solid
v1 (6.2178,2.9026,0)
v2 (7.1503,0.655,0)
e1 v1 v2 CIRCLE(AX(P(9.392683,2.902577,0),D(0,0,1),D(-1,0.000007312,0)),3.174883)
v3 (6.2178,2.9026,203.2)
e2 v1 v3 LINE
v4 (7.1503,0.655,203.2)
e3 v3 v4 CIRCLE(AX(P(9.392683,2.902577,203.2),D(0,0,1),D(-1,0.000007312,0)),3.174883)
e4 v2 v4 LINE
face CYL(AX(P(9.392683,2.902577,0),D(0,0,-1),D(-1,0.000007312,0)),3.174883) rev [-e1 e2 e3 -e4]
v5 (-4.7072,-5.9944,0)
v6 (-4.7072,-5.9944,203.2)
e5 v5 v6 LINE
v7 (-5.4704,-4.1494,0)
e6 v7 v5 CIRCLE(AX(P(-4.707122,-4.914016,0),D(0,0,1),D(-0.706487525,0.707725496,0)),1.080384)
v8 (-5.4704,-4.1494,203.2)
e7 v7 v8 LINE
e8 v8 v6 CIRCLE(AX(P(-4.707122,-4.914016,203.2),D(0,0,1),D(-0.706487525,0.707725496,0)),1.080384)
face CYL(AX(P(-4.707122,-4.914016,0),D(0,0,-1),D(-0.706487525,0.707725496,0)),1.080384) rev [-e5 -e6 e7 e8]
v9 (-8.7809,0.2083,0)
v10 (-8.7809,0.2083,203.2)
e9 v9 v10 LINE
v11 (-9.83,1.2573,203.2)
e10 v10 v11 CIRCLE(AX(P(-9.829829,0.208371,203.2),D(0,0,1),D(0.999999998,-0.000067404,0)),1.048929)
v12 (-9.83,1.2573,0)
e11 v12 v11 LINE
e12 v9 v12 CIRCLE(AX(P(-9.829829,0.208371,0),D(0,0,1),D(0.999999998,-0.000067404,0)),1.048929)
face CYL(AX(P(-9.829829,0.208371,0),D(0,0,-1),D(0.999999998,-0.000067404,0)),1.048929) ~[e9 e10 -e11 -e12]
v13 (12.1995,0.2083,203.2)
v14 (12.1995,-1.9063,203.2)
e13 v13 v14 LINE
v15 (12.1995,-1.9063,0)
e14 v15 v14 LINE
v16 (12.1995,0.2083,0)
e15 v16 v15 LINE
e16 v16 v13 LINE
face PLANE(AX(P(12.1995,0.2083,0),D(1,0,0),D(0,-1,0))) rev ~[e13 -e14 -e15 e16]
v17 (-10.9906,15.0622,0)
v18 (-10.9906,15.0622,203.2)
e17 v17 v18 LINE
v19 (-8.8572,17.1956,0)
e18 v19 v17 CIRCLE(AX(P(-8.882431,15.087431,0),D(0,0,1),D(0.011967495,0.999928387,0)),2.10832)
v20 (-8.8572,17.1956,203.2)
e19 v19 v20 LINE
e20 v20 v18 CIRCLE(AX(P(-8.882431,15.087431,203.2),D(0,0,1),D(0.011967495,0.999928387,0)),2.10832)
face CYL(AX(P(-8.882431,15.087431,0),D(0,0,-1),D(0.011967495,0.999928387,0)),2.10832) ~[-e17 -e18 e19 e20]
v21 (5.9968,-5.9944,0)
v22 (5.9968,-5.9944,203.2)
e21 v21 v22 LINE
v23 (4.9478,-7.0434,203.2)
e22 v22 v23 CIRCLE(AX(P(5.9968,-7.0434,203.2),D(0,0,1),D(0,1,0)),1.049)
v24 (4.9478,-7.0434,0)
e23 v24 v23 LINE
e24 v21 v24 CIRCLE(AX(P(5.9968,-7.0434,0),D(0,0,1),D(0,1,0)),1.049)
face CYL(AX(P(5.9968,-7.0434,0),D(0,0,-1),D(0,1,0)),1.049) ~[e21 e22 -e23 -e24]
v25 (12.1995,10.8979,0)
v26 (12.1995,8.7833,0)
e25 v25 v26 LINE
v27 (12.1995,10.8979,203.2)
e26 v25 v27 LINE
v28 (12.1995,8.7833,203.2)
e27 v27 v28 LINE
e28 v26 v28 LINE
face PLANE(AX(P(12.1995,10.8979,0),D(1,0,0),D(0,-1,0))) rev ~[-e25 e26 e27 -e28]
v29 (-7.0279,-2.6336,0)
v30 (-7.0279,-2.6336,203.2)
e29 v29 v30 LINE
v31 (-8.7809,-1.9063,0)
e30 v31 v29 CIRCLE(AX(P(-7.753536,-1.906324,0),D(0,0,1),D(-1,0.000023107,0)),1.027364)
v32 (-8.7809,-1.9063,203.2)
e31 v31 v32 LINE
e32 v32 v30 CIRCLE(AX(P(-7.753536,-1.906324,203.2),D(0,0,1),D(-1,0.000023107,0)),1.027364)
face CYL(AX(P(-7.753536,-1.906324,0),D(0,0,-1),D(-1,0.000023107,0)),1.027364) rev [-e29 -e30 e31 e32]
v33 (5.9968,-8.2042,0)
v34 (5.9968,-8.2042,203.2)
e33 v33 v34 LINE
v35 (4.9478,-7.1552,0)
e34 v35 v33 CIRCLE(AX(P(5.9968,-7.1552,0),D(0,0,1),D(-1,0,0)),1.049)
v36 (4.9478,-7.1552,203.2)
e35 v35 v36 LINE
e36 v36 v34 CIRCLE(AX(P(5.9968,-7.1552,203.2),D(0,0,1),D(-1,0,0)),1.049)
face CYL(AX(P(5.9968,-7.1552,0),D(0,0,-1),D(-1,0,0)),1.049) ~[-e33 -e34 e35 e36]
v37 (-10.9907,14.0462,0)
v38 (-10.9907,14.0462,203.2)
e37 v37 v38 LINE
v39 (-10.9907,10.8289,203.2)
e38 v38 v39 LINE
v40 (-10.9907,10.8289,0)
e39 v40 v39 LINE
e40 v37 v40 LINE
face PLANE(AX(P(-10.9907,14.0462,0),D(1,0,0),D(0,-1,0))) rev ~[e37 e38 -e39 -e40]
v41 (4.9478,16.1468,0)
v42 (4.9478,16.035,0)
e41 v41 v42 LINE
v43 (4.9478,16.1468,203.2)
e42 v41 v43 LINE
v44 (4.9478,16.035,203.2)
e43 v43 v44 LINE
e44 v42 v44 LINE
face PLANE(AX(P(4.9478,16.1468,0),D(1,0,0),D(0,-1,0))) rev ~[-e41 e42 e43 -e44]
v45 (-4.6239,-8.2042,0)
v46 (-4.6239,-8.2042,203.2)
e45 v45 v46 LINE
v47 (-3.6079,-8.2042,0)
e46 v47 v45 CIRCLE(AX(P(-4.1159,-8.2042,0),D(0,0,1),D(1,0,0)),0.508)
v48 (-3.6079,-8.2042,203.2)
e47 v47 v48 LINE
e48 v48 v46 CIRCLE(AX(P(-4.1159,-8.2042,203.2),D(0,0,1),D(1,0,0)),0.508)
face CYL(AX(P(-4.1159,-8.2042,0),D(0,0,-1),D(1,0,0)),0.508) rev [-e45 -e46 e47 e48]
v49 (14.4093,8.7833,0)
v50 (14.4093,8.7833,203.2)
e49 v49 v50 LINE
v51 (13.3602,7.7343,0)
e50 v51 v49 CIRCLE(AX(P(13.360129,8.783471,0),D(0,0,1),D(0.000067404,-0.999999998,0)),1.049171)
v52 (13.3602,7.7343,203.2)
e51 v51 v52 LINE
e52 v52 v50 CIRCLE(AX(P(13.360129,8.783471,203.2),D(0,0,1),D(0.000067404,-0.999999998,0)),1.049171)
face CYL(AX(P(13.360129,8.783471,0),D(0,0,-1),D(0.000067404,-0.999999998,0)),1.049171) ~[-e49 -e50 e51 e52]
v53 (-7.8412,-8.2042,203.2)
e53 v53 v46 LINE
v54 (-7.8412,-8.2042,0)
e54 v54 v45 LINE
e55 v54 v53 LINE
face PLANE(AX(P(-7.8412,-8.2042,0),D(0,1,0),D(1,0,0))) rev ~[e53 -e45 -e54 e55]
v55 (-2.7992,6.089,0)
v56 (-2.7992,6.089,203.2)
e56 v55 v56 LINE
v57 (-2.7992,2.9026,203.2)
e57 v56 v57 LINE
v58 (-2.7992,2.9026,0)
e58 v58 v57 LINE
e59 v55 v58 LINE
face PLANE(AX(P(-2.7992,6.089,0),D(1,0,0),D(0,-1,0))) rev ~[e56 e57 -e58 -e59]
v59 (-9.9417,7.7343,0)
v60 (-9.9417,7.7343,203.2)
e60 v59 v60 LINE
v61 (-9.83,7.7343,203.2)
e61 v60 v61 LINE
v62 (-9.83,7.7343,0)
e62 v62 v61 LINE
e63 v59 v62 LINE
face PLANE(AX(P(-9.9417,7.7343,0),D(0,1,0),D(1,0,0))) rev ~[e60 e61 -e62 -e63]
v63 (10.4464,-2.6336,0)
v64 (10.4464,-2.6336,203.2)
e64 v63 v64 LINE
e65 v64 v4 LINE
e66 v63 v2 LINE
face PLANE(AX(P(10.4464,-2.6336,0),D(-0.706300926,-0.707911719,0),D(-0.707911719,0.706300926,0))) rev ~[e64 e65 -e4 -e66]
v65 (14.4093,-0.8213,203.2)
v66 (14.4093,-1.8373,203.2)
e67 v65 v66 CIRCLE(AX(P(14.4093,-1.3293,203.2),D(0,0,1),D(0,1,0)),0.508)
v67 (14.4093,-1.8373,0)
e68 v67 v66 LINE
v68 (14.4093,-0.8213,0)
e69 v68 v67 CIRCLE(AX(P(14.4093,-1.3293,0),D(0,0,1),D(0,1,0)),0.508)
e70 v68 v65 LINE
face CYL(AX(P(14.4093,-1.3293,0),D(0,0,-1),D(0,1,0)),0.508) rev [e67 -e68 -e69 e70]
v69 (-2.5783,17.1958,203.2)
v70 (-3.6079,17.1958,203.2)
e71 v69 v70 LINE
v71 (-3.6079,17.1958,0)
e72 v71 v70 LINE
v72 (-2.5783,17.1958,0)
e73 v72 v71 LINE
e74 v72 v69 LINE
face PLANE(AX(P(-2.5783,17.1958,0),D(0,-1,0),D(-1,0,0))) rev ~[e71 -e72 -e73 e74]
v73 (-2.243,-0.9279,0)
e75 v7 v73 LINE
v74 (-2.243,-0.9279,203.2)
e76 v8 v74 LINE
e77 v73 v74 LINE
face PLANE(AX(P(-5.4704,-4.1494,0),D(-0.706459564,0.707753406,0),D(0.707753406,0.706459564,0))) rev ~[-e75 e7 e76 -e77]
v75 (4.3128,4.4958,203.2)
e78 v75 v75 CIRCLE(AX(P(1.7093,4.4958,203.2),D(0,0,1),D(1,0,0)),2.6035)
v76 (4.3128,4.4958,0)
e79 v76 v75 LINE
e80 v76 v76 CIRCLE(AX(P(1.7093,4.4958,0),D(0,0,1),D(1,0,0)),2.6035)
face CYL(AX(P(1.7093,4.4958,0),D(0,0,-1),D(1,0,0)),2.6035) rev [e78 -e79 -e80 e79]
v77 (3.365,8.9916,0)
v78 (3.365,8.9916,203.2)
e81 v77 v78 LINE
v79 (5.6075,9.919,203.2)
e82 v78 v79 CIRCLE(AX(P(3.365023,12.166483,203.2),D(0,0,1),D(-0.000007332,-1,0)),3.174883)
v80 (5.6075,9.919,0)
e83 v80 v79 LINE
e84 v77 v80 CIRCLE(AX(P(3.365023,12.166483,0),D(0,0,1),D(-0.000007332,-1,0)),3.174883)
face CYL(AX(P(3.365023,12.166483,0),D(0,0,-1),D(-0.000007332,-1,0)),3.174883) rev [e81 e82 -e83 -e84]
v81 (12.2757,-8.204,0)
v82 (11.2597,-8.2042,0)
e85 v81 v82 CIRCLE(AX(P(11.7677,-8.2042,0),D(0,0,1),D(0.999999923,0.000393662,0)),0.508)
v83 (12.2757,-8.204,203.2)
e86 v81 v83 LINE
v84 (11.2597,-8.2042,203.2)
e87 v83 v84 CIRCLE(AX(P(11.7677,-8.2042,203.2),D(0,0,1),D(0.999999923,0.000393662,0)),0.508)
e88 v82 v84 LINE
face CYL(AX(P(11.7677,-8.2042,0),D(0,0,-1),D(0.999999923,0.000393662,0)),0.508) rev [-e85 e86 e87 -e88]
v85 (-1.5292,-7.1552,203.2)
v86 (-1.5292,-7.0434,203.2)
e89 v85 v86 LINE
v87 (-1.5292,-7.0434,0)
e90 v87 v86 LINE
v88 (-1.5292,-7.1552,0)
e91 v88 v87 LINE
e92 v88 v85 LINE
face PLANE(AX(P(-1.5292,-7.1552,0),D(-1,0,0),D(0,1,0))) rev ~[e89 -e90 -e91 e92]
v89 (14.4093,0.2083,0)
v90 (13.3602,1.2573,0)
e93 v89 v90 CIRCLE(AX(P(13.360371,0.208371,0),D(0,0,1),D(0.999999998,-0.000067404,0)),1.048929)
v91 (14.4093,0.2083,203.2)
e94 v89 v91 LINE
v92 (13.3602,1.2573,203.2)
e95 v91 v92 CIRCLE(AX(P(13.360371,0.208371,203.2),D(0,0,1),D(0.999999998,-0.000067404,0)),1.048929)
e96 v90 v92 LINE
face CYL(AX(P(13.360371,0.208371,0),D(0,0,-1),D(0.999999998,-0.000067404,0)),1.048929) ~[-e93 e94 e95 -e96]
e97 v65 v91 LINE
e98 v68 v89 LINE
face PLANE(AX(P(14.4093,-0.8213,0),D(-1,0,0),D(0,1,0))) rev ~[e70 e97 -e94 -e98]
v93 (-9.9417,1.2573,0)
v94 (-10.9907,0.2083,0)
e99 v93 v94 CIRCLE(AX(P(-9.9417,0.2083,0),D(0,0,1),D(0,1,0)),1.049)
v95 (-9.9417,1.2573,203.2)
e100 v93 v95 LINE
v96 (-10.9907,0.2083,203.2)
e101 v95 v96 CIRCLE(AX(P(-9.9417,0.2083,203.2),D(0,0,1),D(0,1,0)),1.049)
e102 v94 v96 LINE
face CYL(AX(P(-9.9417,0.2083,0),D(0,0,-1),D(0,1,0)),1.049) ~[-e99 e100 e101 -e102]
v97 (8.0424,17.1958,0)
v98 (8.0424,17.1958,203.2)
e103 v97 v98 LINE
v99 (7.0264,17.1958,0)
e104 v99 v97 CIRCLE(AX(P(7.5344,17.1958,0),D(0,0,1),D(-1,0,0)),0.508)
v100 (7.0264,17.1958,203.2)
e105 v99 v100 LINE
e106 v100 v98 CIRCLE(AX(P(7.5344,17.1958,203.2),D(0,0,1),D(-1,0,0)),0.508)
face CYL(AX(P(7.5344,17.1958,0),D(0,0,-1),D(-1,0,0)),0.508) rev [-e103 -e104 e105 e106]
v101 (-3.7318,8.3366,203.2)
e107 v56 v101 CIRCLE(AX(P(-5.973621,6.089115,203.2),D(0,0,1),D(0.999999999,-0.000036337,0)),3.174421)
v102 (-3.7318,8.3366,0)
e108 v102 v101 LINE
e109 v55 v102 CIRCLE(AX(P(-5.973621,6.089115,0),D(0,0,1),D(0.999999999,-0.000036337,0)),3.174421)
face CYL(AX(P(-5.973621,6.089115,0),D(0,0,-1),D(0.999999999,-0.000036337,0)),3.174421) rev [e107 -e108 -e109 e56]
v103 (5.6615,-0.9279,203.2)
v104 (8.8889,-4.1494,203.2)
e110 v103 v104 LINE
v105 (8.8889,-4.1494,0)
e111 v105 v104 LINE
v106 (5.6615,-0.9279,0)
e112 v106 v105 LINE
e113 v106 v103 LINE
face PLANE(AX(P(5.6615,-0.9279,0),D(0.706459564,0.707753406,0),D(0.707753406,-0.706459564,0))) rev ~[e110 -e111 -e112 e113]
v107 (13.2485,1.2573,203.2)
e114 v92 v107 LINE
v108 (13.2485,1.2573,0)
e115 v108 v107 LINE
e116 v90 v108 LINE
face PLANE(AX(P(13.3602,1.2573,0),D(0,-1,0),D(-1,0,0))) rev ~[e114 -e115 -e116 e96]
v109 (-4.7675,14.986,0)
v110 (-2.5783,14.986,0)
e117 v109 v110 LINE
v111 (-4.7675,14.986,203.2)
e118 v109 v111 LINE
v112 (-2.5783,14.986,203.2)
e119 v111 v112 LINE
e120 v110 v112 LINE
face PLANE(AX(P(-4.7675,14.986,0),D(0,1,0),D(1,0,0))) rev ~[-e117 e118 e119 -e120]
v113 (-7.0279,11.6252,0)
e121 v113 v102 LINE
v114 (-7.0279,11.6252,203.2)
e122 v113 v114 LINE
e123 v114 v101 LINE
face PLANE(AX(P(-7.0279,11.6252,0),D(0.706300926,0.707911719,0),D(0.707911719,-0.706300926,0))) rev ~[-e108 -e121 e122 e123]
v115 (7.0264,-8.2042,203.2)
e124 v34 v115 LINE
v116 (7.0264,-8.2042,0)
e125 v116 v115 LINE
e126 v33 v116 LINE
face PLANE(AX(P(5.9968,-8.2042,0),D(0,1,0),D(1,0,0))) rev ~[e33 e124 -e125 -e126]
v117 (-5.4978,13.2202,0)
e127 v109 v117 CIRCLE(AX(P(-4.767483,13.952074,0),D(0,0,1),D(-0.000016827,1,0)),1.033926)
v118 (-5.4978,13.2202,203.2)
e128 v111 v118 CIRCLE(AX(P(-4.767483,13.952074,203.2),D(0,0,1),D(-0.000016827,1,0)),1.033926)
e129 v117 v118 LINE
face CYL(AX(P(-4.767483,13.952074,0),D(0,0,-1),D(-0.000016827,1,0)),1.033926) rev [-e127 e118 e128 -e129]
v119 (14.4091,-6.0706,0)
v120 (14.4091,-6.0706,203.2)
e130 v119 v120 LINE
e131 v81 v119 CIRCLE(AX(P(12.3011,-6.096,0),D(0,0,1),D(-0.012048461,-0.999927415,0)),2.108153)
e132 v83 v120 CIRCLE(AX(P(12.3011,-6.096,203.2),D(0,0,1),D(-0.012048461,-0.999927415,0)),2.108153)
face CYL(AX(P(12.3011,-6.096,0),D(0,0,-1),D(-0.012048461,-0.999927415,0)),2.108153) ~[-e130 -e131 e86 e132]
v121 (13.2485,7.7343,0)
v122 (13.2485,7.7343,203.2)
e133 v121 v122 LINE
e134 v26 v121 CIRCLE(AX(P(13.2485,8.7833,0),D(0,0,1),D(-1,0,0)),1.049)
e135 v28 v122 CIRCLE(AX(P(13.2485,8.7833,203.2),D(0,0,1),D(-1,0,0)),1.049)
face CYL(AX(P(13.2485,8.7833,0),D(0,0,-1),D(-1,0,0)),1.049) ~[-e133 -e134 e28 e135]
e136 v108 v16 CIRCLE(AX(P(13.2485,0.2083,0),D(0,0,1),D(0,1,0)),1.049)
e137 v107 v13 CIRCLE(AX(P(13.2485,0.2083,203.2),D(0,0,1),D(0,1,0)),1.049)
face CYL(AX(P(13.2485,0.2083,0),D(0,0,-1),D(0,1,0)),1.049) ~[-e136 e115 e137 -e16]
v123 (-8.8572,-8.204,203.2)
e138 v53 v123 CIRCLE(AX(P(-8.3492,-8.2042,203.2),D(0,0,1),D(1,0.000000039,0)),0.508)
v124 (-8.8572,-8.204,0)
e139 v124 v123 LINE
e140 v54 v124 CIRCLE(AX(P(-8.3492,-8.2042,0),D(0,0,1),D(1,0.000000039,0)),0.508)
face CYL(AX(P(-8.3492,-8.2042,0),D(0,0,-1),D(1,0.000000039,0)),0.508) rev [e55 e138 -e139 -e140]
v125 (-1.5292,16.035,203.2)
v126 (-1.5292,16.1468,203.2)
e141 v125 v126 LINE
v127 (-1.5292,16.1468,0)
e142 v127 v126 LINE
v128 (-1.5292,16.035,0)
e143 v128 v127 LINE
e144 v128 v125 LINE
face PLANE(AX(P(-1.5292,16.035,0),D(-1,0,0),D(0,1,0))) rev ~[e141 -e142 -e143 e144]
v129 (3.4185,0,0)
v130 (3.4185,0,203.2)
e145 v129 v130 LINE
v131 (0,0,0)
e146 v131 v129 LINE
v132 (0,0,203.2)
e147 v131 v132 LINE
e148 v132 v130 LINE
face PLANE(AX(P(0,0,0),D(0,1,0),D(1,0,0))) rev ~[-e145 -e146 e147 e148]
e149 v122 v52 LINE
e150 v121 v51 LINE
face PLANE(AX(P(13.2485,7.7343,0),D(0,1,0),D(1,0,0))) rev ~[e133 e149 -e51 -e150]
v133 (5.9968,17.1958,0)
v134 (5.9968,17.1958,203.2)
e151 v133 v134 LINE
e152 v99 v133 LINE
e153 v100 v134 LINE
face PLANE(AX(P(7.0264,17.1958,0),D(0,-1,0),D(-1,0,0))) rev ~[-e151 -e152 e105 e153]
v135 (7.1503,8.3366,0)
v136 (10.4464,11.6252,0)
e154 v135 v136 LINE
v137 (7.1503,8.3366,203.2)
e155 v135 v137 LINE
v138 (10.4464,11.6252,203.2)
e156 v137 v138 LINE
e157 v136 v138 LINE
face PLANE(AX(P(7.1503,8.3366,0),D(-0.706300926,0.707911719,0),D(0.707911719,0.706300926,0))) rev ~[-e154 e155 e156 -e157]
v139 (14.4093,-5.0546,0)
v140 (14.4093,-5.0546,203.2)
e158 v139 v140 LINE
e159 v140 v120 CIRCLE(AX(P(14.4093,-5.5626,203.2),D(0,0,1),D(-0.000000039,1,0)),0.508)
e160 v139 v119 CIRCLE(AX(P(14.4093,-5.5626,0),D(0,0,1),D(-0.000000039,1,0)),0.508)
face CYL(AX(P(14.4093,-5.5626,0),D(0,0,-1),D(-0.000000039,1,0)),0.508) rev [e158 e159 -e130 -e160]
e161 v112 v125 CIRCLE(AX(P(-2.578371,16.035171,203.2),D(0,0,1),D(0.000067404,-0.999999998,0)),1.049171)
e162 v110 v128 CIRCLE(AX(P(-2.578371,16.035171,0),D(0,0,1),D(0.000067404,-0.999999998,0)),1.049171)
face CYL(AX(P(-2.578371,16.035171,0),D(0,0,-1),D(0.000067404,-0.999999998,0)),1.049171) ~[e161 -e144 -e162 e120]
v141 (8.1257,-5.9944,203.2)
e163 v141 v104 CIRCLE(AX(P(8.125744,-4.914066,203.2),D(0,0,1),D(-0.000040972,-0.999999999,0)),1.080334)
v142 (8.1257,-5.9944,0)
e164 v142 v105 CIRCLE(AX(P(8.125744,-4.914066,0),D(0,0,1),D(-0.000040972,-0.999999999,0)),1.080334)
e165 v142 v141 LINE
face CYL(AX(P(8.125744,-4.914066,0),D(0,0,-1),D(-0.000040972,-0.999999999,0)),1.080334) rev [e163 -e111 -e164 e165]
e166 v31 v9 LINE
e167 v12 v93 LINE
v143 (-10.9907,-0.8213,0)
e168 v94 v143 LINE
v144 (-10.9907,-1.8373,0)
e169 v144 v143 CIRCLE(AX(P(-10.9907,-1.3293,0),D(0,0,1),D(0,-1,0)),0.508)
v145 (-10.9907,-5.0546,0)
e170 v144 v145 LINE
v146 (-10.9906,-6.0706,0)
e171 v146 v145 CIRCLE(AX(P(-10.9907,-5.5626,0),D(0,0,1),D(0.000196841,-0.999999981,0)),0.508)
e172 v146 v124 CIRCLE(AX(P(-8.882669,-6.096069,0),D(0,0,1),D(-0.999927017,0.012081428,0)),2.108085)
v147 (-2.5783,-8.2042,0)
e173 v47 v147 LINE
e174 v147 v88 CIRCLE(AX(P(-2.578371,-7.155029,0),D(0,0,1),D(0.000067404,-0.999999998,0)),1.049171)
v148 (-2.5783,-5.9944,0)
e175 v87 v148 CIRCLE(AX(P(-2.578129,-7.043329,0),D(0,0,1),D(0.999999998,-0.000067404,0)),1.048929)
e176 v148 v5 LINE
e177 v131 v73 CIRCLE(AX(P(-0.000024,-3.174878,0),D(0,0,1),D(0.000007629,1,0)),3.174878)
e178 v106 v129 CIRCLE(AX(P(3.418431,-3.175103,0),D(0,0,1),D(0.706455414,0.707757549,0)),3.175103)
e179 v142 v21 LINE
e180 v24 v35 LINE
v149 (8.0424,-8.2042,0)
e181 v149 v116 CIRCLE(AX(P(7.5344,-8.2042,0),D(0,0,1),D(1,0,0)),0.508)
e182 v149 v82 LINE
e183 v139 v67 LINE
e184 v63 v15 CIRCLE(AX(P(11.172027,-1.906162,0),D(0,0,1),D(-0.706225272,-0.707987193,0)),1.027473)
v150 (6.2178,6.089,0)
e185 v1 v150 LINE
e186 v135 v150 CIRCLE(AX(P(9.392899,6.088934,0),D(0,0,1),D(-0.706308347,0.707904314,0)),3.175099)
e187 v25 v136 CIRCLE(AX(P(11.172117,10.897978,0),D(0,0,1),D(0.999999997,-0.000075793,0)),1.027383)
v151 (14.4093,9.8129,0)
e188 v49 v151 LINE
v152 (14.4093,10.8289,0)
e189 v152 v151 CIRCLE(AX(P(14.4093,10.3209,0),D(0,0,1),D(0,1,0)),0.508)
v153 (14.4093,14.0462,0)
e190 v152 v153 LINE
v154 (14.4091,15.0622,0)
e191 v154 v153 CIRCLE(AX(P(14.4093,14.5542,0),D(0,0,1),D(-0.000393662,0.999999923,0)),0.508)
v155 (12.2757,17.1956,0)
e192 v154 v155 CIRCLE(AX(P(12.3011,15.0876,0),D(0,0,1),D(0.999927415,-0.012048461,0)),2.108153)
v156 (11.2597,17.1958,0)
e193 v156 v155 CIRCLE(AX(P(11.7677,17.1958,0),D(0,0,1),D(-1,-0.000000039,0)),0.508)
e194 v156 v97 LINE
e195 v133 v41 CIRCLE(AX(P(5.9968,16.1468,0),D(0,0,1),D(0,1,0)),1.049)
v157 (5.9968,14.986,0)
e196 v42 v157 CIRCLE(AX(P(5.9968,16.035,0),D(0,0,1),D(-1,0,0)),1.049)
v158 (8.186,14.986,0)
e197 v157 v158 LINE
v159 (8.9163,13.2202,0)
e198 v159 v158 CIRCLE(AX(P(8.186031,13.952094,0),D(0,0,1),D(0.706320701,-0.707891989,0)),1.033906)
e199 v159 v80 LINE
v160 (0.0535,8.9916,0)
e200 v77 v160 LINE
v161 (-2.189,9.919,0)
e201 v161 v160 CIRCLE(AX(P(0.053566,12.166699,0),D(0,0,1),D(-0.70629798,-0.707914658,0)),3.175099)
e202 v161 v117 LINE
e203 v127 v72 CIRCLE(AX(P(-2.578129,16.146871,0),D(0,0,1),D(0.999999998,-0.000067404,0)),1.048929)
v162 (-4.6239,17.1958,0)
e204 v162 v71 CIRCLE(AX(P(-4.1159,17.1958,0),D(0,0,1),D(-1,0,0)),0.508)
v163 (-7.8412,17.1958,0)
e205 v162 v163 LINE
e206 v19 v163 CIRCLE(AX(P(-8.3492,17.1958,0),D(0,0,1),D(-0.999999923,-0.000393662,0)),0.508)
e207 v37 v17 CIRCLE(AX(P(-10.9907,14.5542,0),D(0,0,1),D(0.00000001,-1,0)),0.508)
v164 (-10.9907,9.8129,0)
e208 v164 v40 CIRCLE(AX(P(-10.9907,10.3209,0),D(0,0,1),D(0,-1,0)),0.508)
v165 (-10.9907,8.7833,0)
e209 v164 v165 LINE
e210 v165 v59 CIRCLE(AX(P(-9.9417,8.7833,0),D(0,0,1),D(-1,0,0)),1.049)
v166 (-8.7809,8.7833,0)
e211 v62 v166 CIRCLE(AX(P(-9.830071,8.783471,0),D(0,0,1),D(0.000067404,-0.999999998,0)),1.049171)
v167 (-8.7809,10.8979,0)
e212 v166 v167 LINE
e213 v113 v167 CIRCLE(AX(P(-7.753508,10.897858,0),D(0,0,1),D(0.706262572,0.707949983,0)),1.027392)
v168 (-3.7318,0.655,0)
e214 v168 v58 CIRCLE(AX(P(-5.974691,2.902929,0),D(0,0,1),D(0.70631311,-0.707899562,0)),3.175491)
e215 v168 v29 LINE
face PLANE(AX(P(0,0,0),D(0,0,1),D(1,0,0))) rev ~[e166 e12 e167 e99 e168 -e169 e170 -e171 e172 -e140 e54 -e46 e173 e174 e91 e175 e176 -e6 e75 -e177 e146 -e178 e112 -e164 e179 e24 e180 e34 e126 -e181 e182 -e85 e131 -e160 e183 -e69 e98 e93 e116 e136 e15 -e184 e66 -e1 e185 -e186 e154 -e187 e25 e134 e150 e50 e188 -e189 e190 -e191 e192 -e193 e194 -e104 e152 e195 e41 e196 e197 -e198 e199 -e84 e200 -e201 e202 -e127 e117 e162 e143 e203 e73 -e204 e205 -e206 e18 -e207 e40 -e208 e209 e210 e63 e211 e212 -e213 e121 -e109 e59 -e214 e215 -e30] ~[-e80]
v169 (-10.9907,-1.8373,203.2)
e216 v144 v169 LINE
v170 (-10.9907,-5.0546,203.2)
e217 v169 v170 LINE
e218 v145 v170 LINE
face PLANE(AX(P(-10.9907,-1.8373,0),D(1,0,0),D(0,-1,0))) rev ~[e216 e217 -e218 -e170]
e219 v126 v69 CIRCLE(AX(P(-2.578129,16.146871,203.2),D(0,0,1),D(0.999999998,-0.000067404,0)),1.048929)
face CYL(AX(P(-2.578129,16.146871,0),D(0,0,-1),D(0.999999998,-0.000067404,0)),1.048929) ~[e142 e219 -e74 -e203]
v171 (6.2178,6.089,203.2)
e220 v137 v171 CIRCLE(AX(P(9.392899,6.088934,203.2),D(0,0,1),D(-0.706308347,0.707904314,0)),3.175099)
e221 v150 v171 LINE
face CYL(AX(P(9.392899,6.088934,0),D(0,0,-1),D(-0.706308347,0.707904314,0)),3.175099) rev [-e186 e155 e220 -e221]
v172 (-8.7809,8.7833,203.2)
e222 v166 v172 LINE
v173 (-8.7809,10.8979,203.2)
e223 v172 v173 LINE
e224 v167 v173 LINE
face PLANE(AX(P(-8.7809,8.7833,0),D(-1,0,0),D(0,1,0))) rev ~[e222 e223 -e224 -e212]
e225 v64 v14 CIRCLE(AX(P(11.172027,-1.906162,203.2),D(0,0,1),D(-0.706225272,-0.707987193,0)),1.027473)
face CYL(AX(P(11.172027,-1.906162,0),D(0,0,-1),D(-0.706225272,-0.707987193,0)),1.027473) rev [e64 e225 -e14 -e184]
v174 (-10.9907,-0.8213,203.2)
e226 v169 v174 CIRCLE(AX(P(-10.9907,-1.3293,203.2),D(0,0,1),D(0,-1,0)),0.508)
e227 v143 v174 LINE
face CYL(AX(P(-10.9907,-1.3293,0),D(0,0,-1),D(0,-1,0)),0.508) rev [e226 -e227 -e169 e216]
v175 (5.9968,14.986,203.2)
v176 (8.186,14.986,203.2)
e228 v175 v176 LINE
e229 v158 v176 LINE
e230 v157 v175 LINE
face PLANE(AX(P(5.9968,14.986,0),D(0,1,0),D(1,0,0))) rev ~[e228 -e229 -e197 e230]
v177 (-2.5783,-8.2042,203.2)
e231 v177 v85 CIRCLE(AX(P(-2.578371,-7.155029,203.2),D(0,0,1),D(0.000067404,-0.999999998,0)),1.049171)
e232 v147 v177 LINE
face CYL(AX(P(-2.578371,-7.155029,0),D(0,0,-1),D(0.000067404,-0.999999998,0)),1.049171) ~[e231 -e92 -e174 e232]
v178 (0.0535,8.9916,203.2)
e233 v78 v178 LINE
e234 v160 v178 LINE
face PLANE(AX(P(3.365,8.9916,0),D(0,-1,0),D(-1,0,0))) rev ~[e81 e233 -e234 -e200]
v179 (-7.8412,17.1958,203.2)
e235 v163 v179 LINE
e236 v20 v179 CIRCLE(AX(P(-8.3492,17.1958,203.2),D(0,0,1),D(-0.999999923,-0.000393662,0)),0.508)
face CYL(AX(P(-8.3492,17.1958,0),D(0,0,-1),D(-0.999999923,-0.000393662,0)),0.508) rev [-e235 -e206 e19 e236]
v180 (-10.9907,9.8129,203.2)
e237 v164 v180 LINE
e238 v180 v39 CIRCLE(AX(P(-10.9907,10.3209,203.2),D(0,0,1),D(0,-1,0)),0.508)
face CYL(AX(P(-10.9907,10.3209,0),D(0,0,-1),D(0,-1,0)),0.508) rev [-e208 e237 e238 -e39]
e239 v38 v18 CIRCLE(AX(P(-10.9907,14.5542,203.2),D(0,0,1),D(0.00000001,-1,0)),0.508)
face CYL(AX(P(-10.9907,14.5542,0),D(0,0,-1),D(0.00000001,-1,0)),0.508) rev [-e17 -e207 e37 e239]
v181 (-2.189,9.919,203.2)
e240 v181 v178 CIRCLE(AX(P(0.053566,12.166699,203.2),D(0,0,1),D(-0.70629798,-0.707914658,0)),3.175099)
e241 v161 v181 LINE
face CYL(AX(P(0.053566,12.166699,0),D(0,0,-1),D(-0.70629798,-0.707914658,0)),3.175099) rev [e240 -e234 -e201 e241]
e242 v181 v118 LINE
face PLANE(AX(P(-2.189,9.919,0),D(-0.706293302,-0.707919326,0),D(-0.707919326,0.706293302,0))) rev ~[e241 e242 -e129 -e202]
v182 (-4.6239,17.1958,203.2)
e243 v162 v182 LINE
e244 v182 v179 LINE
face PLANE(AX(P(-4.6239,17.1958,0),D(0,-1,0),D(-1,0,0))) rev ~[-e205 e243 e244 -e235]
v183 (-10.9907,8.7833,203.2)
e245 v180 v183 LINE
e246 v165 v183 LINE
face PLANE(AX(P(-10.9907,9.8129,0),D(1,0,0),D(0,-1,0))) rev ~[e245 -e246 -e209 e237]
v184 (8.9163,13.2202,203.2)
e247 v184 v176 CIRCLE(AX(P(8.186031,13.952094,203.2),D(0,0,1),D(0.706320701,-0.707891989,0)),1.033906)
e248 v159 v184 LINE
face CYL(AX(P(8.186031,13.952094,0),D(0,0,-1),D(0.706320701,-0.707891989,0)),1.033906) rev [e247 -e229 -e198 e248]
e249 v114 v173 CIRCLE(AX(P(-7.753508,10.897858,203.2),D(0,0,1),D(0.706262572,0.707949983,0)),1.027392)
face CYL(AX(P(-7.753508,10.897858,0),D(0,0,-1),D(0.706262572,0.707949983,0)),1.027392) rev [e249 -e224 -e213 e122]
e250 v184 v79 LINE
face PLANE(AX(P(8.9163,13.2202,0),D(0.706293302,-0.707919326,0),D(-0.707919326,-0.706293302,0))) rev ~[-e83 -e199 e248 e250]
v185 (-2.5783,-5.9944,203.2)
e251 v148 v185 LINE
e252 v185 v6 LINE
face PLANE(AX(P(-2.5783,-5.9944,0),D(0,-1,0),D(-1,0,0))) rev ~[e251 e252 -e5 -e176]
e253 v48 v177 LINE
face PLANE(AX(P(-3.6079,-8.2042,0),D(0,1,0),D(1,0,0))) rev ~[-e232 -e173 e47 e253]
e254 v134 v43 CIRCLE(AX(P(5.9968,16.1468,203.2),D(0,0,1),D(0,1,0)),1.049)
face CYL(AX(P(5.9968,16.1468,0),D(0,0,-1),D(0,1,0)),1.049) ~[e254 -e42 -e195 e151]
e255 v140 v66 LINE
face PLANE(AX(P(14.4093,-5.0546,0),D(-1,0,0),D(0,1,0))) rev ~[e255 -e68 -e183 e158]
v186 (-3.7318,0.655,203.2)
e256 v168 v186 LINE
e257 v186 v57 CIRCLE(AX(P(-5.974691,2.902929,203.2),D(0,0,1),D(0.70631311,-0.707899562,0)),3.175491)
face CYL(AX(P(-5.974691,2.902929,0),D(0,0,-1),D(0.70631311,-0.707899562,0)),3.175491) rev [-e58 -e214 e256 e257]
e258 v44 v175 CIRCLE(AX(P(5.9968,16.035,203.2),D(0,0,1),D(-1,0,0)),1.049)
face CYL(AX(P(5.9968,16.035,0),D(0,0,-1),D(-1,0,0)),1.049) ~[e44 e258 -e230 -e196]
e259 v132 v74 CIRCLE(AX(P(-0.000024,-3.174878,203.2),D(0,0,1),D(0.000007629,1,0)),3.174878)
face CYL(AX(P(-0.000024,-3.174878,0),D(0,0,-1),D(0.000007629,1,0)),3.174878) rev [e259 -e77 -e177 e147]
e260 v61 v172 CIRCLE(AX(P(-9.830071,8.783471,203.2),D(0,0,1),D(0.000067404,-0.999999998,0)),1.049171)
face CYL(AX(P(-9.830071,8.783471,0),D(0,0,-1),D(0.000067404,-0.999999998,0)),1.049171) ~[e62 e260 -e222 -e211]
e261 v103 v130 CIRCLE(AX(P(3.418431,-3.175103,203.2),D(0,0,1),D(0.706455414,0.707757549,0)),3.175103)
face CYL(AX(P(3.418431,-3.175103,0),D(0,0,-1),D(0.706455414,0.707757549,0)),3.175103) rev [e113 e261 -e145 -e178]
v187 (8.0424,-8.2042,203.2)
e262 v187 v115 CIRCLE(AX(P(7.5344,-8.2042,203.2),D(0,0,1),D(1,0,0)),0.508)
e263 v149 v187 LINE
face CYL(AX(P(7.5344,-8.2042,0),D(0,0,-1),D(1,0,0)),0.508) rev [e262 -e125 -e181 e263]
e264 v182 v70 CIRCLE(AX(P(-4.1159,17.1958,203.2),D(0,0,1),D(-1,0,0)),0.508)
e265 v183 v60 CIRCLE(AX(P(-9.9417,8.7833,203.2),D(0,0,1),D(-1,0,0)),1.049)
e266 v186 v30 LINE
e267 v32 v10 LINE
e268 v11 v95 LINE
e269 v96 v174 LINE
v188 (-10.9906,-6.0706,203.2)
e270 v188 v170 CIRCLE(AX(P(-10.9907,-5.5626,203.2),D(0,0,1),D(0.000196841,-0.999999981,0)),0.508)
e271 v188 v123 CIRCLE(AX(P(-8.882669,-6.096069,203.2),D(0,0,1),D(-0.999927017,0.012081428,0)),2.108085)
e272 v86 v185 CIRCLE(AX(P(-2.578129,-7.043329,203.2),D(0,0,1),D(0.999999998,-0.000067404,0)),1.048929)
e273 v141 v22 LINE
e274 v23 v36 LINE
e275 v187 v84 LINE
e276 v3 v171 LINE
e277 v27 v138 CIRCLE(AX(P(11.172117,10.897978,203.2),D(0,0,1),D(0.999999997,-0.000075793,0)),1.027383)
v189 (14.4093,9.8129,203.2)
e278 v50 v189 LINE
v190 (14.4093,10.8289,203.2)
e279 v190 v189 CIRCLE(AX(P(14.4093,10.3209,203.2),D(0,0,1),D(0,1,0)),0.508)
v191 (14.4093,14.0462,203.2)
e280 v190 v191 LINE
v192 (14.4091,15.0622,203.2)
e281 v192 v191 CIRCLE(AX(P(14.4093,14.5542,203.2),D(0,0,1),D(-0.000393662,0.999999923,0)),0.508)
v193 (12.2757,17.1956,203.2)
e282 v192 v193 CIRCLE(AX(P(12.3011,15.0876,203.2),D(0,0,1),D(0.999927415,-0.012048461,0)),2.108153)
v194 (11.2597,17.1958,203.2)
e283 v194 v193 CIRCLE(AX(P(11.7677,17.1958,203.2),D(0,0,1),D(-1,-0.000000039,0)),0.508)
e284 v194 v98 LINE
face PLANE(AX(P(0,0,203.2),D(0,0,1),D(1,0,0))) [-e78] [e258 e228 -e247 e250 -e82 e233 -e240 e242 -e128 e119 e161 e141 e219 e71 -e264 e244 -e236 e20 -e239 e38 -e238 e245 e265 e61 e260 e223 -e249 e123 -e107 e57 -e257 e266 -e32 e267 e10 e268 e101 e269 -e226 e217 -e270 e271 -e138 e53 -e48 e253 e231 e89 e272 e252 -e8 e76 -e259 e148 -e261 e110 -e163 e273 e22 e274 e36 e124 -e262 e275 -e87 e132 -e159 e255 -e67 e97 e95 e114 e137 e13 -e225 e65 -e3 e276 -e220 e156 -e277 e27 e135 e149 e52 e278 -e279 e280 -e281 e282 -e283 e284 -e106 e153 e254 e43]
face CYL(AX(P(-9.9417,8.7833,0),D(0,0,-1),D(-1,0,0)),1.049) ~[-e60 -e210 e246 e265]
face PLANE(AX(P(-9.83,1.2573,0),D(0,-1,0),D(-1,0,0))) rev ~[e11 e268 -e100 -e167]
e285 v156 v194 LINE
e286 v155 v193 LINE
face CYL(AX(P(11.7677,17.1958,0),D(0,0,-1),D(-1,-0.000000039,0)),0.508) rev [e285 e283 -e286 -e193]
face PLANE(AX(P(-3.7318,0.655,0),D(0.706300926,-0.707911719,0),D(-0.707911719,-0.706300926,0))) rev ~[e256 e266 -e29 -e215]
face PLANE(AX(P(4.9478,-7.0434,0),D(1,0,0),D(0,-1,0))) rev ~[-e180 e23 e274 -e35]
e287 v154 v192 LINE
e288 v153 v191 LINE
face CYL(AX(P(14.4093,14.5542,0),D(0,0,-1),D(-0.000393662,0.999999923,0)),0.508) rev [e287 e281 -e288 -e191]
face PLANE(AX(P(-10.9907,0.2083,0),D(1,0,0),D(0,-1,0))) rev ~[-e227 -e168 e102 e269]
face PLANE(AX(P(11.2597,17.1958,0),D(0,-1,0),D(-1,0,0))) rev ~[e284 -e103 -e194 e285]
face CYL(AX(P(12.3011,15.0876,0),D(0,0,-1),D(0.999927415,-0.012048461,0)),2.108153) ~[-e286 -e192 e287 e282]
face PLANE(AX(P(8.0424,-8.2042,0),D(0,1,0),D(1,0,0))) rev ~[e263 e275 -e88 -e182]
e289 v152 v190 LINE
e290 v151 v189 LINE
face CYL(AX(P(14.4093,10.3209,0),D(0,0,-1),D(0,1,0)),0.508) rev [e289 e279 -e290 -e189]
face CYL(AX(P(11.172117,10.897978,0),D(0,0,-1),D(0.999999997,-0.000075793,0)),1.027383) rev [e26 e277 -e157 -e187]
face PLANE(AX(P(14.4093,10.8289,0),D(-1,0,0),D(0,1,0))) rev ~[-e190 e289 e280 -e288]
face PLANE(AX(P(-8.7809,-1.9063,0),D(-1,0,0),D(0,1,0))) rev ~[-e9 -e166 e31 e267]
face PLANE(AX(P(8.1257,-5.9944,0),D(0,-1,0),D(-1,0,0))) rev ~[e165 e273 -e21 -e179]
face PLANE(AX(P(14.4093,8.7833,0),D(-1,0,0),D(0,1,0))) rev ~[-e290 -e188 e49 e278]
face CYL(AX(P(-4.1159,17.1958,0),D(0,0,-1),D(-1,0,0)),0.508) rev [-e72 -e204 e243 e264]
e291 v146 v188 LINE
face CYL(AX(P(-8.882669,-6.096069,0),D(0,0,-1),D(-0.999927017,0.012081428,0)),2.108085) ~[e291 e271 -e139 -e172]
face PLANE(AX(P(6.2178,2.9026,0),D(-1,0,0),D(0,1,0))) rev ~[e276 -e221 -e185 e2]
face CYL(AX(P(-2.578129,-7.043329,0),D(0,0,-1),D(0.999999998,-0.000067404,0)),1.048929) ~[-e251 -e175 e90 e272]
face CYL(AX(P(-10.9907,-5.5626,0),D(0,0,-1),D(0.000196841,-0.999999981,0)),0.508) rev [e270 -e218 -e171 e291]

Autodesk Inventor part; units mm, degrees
ref_plane "YZ Plane" through (0, 0, 0) normal (1, 0, 0) x (0, 1, 0)
ref_plane "XZ Plane" through (0, 0, 0) normal (0, 1, 0) x (-1, 0, 0)
ref_plane "XY Plane" through (0, 0, 0) normal (0, 0, 1) x (1, 0, 0)
sketch "Sketch1" plane through (0, 0, 0) normal (0, 0, 1) x (1, 0, 0)
  arc A0 (-5.4704, -4.1494) -> (-4.7072, -5.9944) centre (-4.7072, -4.914) ccw
  line L0 (-5.4704, -4.1494) -> (-2.243, -0.9279)
  arc A1 (0, 0) -> (-2.243, -0.9279) centre (0, -3.175) ccw
  line L1 (0, 0) -> (3.4185, 0)
  arc A2 (5.6615, -0.9279) -> (3.4185, 0) centre (3.4185, -3.175) ccw
  line L2 (5.6615, -0.9279) -> (8.8889, -4.1494)
  arc A3 (8.1257, -5.9944) -> (8.8889, -4.1494) centre (8.1257, -4.914) ccw
  line L3 (8.1257, -5.9944) -> (5.9968, -5.9944)
  arc A4 (5.9968, -5.9944) -> (4.9478, -7.0434) centre (5.9968, -7.0434) ccw
  line L4 (4.9478, -7.0434) -> (4.9478, -7.1552)
  arc A5 (4.9478, -7.1552) -> (5.9968, -8.2042) centre (5.9968, -7.1552) ccw
  line L5 (5.9968, -8.2042) -> (7.0264, -8.2042)
  arc A6 (8.0424, -8.2042) -> (7.0264, -8.2042) centre (7.5344, -8.2042) ccw
  line L6 (8.0424, -8.2042) -> (11.2597, -8.2042)
  arc A7 (12.2757, -8.204) -> (11.2597, -8.2042) centre (11.7677, -8.2042) ccw
  arc A8 (12.2757, -8.204) -> (14.4091, -6.0706) centre (12.3011, -6.096) ccw
  arc A9 (14.4093, -5.0546) -> (14.4091, -6.0706) centre (14.4093, -5.5626) ccw
  line L7 (14.4093, -5.0546) -> (14.4093, -1.8373)
  arc A10 (14.4093, -0.8213) -> (14.4093, -1.8373) centre (14.4093, -1.3293) ccw
  line L8 (14.4093, -0.8213) -> (14.4093, 0.2083)
  arc A11 (14.4093, 0.2083) -> (13.3602, 1.2573) centre (13.3602, 0.2083) ccw
  line L9 (13.3602, 1.2573) -> (13.2485, 1.2573)
  arc A12 (13.2485, 1.2573) -> (12.1995, 0.2083) centre (13.2485, 0.2083) ccw
  line L10 (12.1995, 0.2083) -> (12.1995, -1.9063)
  arc A13 (10.4464, -2.6336) -> (12.1995, -1.9063) centre (11.172, -1.9063) ccw
  line L11 (10.4464, -2.6336) -> (7.1503, 0.655)
  arc A14 (6.2178, 2.9026) -> (7.1503, 0.655) centre (9.3928, 2.9026) ccw
  line L12 (6.2178, 2.9026) -> (6.2178, 6.089)
  arc A15 (7.1503, 8.3366) -> (6.2178, 6.089) centre (9.3928, 6.089) ccw
  line L13 (7.1503, 8.3366) -> (10.4464, 11.6252)
  arc A16 (12.1995, 10.8979) -> (10.4464, 11.6252) centre (11.172, 10.8979) ccw
  line L14 (12.1995, 10.8979) -> (12.1995, 8.7833)
  arc A17 (12.1995, 8.7833) -> (13.2485, 7.7343) centre (13.2485, 8.7833) ccw
  line L15 (13.2485, 7.7343) -> (13.3602, 7.7343)
  arc A18 (13.3602, 7.7343) -> (14.4093, 8.7833) centre (13.3602, 8.7833) ccw
  line L16 (14.4093, 8.7833) -> (14.4093, 9.8129)
  arc A19 (14.4093, 10.8289) -> (14.4093, 9.8129) centre (14.4093, 10.3209) ccw
  line L17 (14.4093, 10.8289) -> (14.4093, 14.0462)
  arc A20 (14.4091, 15.0622) -> (14.4093, 14.0462) centre (14.4093, 14.5542) ccw
  arc A21 (14.4091, 15.0622) -> (12.2757, 17.1956) centre (12.3011, 15.0876) ccw
  arc A22 (11.2597, 17.1958) -> (12.2757, 17.1956) centre (11.7677, 17.1958) ccw
  line L18 (11.2597, 17.1958) -> (8.0424, 17.1958)
  arc A23 (7.0264, 17.1958) -> (8.0424, 17.1958) centre (7.5344, 17.1958) ccw
  line L19 (7.0264, 17.1958) -> (5.9968, 17.1958)
  arc A24 (5.9968, 17.1958) -> (4.9478, 16.1468) centre (5.9968, 16.1468) ccw
  line L20 (4.9478, 16.1468) -> (4.9478, 16.035)
  arc A25 (4.9478, 16.035) -> (5.9968, 14.986) centre (5.9968, 16.035) ccw
  line L21 (5.9968, 14.986) -> (8.186, 14.986)
  arc A26 (8.9163, 13.2202) -> (8.186, 14.986) centre (8.186, 13.9521) ccw
  line L22 (8.9163, 13.2202) -> (5.6075, 9.919)
  arc A27 (3.365, 8.9916) -> (5.6075, 9.919) centre (3.365, 12.1666) ccw
  line L23 (3.365, 8.9916) -> (0.0535, 8.9916)
  arc A28 (-2.189, 9.919) -> (0.0535, 8.9916) centre (0.0535, 12.1666) ccw
  line L24 (-2.189, 9.919) -> (-5.4978, 13.2202)
  arc A29 (-4.7675, 14.986) -> (-5.4978, 13.2202) centre (-4.7675, 13.9521) ccw
  line L25 (-4.7675, 14.986) -> (-2.5783, 14.986)
  arc A30 (-2.5783, 14.986) -> (-1.5292, 16.035) centre (-2.5783, 16.035) ccw
  line L26 (-1.5292, 16.035) -> (-1.5292, 16.1468)
  arc A31 (-1.5292, 16.1468) -> (-2.5783, 17.1958) centre (-2.5783, 16.1468) ccw
  line L27 (-2.5783, 17.1958) -> (-3.6079, 17.1958)
  arc A32 (-4.6239, 17.1958) -> (-3.6079, 17.1958) centre (-4.1159, 17.1958) ccw
  line L28 (-4.6239, 17.1958) -> (-7.8412, 17.1958)
  arc A33 (-8.8572, 17.1956) -> (-7.8412, 17.1958) centre (-8.3492, 17.1958) ccw
  arc A34 (-8.8572, 17.1956) -> (-10.9906, 15.0622) centre (-8.8825, 15.0876) ccw
  arc A35 (-10.9907, 14.0462) -> (-10.9906, 15.0622) centre (-10.9907, 14.5542) ccw
  line L29 (-10.9907, 14.0462) -> (-10.9907, 10.8289)
  arc A36 (-10.9907, 9.8129) -> (-10.9907, 10.8289) centre (-10.9907, 10.3209) ccw
  line L30 (-10.9907, 9.8129) -> (-10.9907, 8.7833)
  arc A37 (-10.9907, 8.7833) -> (-9.9417, 7.7343) centre (-9.9417, 8.7833) ccw
  line L31 (-9.9417, 7.7343) -> (-9.83, 7.7343)
  arc A38 (-9.83, 7.7343) -> (-8.7809, 8.7833) centre (-9.83, 8.7833) ccw
  line L32 (-8.7809, 8.7833) -> (-8.7809, 10.8979)
  arc A39 (-7.0279, 11.6252) -> (-8.7809, 10.8979) centre (-7.7535, 10.8979) ccw
  line L33 (-7.0279, 11.6252) -> (-3.7318, 8.3366)
  arc A40 (-2.7992, 6.089) -> (-3.7318, 8.3366) centre (-5.9742, 6.089) ccw
  line L34 (-2.7992, 6.089) -> (-2.7992, 2.9026)
  arc A41 (-3.7318, 0.655) -> (-2.7992, 2.9026) centre (-5.9742, 2.9026) ccw
  line L35 (-3.7318, 0.655) -> (-7.0279, -2.6336)
  arc A42 (-8.7809, -1.9063) -> (-7.0279, -2.6336) centre (-7.7535, -1.9063) ccw
  line L36 (-8.7809, -1.9063) -> (-8.7809, 0.2083)
  arc A43 (-8.7809, 0.2083) -> (-9.83, 1.2573) centre (-9.83, 0.2083) ccw
  line L37 (-9.83, 1.2573) -> (-9.9417, 1.2573)
  arc A44 (-9.9417, 1.2573) -> (-10.9907, 0.2083) centre (-9.9417, 0.2083) ccw
  line L38 (-10.9907, 0.2083) -> (-10.9907, -0.8213)
  arc A45 (-10.9907, -1.8373) -> (-10.9907, -0.8213) centre (-10.9907, -1.3293) ccw
  line L39 (-10.9907, -1.8373) -> (-10.9907, -5.0546)
  arc A46 (-10.9906, -6.0706) -> (-10.9907, -5.0546) centre (-10.9907, -5.5626) ccw
  arc A47 (-10.9906, -6.0706) -> (-8.8572, -8.204) centre (-8.8825, -6.096) ccw
  arc A48 (-7.8412, -8.2042) -> (-8.8572, -8.204) centre (-8.3492, -8.2042) ccw
  line L40 (-7.8412, -8.2042) -> (-4.6239, -8.2042)
  arc A49 (-3.6079, -8.2042) -> (-4.6239, -8.2042) centre (-4.1159, -8.2042) ccw
  line L41 (-3.6079, -8.2042) -> (-2.5783, -8.2042)
  arc A50 (-2.5783, -8.2042) -> (-1.5292, -7.1552) centre (-2.5783, -7.1552) ccw
  line L42 (-1.5292, -7.1552) -> (-1.5292, -7.0434)
  arc A51 (-1.5292, -7.0434) -> (-2.5783, -5.9944) centre (-2.5783, -7.0434) ccw
  line L43 (-2.5783, -5.9944) -> (-4.7072, -5.9944)
  circle A52 centre (1.7093, 4.4958) radius 2.6035
extrude "Extrusion1" add sketch "Sketch1" along normal blind 203.2
properties part number "8in 1x1 T slot" material "Steel, Alloy"
